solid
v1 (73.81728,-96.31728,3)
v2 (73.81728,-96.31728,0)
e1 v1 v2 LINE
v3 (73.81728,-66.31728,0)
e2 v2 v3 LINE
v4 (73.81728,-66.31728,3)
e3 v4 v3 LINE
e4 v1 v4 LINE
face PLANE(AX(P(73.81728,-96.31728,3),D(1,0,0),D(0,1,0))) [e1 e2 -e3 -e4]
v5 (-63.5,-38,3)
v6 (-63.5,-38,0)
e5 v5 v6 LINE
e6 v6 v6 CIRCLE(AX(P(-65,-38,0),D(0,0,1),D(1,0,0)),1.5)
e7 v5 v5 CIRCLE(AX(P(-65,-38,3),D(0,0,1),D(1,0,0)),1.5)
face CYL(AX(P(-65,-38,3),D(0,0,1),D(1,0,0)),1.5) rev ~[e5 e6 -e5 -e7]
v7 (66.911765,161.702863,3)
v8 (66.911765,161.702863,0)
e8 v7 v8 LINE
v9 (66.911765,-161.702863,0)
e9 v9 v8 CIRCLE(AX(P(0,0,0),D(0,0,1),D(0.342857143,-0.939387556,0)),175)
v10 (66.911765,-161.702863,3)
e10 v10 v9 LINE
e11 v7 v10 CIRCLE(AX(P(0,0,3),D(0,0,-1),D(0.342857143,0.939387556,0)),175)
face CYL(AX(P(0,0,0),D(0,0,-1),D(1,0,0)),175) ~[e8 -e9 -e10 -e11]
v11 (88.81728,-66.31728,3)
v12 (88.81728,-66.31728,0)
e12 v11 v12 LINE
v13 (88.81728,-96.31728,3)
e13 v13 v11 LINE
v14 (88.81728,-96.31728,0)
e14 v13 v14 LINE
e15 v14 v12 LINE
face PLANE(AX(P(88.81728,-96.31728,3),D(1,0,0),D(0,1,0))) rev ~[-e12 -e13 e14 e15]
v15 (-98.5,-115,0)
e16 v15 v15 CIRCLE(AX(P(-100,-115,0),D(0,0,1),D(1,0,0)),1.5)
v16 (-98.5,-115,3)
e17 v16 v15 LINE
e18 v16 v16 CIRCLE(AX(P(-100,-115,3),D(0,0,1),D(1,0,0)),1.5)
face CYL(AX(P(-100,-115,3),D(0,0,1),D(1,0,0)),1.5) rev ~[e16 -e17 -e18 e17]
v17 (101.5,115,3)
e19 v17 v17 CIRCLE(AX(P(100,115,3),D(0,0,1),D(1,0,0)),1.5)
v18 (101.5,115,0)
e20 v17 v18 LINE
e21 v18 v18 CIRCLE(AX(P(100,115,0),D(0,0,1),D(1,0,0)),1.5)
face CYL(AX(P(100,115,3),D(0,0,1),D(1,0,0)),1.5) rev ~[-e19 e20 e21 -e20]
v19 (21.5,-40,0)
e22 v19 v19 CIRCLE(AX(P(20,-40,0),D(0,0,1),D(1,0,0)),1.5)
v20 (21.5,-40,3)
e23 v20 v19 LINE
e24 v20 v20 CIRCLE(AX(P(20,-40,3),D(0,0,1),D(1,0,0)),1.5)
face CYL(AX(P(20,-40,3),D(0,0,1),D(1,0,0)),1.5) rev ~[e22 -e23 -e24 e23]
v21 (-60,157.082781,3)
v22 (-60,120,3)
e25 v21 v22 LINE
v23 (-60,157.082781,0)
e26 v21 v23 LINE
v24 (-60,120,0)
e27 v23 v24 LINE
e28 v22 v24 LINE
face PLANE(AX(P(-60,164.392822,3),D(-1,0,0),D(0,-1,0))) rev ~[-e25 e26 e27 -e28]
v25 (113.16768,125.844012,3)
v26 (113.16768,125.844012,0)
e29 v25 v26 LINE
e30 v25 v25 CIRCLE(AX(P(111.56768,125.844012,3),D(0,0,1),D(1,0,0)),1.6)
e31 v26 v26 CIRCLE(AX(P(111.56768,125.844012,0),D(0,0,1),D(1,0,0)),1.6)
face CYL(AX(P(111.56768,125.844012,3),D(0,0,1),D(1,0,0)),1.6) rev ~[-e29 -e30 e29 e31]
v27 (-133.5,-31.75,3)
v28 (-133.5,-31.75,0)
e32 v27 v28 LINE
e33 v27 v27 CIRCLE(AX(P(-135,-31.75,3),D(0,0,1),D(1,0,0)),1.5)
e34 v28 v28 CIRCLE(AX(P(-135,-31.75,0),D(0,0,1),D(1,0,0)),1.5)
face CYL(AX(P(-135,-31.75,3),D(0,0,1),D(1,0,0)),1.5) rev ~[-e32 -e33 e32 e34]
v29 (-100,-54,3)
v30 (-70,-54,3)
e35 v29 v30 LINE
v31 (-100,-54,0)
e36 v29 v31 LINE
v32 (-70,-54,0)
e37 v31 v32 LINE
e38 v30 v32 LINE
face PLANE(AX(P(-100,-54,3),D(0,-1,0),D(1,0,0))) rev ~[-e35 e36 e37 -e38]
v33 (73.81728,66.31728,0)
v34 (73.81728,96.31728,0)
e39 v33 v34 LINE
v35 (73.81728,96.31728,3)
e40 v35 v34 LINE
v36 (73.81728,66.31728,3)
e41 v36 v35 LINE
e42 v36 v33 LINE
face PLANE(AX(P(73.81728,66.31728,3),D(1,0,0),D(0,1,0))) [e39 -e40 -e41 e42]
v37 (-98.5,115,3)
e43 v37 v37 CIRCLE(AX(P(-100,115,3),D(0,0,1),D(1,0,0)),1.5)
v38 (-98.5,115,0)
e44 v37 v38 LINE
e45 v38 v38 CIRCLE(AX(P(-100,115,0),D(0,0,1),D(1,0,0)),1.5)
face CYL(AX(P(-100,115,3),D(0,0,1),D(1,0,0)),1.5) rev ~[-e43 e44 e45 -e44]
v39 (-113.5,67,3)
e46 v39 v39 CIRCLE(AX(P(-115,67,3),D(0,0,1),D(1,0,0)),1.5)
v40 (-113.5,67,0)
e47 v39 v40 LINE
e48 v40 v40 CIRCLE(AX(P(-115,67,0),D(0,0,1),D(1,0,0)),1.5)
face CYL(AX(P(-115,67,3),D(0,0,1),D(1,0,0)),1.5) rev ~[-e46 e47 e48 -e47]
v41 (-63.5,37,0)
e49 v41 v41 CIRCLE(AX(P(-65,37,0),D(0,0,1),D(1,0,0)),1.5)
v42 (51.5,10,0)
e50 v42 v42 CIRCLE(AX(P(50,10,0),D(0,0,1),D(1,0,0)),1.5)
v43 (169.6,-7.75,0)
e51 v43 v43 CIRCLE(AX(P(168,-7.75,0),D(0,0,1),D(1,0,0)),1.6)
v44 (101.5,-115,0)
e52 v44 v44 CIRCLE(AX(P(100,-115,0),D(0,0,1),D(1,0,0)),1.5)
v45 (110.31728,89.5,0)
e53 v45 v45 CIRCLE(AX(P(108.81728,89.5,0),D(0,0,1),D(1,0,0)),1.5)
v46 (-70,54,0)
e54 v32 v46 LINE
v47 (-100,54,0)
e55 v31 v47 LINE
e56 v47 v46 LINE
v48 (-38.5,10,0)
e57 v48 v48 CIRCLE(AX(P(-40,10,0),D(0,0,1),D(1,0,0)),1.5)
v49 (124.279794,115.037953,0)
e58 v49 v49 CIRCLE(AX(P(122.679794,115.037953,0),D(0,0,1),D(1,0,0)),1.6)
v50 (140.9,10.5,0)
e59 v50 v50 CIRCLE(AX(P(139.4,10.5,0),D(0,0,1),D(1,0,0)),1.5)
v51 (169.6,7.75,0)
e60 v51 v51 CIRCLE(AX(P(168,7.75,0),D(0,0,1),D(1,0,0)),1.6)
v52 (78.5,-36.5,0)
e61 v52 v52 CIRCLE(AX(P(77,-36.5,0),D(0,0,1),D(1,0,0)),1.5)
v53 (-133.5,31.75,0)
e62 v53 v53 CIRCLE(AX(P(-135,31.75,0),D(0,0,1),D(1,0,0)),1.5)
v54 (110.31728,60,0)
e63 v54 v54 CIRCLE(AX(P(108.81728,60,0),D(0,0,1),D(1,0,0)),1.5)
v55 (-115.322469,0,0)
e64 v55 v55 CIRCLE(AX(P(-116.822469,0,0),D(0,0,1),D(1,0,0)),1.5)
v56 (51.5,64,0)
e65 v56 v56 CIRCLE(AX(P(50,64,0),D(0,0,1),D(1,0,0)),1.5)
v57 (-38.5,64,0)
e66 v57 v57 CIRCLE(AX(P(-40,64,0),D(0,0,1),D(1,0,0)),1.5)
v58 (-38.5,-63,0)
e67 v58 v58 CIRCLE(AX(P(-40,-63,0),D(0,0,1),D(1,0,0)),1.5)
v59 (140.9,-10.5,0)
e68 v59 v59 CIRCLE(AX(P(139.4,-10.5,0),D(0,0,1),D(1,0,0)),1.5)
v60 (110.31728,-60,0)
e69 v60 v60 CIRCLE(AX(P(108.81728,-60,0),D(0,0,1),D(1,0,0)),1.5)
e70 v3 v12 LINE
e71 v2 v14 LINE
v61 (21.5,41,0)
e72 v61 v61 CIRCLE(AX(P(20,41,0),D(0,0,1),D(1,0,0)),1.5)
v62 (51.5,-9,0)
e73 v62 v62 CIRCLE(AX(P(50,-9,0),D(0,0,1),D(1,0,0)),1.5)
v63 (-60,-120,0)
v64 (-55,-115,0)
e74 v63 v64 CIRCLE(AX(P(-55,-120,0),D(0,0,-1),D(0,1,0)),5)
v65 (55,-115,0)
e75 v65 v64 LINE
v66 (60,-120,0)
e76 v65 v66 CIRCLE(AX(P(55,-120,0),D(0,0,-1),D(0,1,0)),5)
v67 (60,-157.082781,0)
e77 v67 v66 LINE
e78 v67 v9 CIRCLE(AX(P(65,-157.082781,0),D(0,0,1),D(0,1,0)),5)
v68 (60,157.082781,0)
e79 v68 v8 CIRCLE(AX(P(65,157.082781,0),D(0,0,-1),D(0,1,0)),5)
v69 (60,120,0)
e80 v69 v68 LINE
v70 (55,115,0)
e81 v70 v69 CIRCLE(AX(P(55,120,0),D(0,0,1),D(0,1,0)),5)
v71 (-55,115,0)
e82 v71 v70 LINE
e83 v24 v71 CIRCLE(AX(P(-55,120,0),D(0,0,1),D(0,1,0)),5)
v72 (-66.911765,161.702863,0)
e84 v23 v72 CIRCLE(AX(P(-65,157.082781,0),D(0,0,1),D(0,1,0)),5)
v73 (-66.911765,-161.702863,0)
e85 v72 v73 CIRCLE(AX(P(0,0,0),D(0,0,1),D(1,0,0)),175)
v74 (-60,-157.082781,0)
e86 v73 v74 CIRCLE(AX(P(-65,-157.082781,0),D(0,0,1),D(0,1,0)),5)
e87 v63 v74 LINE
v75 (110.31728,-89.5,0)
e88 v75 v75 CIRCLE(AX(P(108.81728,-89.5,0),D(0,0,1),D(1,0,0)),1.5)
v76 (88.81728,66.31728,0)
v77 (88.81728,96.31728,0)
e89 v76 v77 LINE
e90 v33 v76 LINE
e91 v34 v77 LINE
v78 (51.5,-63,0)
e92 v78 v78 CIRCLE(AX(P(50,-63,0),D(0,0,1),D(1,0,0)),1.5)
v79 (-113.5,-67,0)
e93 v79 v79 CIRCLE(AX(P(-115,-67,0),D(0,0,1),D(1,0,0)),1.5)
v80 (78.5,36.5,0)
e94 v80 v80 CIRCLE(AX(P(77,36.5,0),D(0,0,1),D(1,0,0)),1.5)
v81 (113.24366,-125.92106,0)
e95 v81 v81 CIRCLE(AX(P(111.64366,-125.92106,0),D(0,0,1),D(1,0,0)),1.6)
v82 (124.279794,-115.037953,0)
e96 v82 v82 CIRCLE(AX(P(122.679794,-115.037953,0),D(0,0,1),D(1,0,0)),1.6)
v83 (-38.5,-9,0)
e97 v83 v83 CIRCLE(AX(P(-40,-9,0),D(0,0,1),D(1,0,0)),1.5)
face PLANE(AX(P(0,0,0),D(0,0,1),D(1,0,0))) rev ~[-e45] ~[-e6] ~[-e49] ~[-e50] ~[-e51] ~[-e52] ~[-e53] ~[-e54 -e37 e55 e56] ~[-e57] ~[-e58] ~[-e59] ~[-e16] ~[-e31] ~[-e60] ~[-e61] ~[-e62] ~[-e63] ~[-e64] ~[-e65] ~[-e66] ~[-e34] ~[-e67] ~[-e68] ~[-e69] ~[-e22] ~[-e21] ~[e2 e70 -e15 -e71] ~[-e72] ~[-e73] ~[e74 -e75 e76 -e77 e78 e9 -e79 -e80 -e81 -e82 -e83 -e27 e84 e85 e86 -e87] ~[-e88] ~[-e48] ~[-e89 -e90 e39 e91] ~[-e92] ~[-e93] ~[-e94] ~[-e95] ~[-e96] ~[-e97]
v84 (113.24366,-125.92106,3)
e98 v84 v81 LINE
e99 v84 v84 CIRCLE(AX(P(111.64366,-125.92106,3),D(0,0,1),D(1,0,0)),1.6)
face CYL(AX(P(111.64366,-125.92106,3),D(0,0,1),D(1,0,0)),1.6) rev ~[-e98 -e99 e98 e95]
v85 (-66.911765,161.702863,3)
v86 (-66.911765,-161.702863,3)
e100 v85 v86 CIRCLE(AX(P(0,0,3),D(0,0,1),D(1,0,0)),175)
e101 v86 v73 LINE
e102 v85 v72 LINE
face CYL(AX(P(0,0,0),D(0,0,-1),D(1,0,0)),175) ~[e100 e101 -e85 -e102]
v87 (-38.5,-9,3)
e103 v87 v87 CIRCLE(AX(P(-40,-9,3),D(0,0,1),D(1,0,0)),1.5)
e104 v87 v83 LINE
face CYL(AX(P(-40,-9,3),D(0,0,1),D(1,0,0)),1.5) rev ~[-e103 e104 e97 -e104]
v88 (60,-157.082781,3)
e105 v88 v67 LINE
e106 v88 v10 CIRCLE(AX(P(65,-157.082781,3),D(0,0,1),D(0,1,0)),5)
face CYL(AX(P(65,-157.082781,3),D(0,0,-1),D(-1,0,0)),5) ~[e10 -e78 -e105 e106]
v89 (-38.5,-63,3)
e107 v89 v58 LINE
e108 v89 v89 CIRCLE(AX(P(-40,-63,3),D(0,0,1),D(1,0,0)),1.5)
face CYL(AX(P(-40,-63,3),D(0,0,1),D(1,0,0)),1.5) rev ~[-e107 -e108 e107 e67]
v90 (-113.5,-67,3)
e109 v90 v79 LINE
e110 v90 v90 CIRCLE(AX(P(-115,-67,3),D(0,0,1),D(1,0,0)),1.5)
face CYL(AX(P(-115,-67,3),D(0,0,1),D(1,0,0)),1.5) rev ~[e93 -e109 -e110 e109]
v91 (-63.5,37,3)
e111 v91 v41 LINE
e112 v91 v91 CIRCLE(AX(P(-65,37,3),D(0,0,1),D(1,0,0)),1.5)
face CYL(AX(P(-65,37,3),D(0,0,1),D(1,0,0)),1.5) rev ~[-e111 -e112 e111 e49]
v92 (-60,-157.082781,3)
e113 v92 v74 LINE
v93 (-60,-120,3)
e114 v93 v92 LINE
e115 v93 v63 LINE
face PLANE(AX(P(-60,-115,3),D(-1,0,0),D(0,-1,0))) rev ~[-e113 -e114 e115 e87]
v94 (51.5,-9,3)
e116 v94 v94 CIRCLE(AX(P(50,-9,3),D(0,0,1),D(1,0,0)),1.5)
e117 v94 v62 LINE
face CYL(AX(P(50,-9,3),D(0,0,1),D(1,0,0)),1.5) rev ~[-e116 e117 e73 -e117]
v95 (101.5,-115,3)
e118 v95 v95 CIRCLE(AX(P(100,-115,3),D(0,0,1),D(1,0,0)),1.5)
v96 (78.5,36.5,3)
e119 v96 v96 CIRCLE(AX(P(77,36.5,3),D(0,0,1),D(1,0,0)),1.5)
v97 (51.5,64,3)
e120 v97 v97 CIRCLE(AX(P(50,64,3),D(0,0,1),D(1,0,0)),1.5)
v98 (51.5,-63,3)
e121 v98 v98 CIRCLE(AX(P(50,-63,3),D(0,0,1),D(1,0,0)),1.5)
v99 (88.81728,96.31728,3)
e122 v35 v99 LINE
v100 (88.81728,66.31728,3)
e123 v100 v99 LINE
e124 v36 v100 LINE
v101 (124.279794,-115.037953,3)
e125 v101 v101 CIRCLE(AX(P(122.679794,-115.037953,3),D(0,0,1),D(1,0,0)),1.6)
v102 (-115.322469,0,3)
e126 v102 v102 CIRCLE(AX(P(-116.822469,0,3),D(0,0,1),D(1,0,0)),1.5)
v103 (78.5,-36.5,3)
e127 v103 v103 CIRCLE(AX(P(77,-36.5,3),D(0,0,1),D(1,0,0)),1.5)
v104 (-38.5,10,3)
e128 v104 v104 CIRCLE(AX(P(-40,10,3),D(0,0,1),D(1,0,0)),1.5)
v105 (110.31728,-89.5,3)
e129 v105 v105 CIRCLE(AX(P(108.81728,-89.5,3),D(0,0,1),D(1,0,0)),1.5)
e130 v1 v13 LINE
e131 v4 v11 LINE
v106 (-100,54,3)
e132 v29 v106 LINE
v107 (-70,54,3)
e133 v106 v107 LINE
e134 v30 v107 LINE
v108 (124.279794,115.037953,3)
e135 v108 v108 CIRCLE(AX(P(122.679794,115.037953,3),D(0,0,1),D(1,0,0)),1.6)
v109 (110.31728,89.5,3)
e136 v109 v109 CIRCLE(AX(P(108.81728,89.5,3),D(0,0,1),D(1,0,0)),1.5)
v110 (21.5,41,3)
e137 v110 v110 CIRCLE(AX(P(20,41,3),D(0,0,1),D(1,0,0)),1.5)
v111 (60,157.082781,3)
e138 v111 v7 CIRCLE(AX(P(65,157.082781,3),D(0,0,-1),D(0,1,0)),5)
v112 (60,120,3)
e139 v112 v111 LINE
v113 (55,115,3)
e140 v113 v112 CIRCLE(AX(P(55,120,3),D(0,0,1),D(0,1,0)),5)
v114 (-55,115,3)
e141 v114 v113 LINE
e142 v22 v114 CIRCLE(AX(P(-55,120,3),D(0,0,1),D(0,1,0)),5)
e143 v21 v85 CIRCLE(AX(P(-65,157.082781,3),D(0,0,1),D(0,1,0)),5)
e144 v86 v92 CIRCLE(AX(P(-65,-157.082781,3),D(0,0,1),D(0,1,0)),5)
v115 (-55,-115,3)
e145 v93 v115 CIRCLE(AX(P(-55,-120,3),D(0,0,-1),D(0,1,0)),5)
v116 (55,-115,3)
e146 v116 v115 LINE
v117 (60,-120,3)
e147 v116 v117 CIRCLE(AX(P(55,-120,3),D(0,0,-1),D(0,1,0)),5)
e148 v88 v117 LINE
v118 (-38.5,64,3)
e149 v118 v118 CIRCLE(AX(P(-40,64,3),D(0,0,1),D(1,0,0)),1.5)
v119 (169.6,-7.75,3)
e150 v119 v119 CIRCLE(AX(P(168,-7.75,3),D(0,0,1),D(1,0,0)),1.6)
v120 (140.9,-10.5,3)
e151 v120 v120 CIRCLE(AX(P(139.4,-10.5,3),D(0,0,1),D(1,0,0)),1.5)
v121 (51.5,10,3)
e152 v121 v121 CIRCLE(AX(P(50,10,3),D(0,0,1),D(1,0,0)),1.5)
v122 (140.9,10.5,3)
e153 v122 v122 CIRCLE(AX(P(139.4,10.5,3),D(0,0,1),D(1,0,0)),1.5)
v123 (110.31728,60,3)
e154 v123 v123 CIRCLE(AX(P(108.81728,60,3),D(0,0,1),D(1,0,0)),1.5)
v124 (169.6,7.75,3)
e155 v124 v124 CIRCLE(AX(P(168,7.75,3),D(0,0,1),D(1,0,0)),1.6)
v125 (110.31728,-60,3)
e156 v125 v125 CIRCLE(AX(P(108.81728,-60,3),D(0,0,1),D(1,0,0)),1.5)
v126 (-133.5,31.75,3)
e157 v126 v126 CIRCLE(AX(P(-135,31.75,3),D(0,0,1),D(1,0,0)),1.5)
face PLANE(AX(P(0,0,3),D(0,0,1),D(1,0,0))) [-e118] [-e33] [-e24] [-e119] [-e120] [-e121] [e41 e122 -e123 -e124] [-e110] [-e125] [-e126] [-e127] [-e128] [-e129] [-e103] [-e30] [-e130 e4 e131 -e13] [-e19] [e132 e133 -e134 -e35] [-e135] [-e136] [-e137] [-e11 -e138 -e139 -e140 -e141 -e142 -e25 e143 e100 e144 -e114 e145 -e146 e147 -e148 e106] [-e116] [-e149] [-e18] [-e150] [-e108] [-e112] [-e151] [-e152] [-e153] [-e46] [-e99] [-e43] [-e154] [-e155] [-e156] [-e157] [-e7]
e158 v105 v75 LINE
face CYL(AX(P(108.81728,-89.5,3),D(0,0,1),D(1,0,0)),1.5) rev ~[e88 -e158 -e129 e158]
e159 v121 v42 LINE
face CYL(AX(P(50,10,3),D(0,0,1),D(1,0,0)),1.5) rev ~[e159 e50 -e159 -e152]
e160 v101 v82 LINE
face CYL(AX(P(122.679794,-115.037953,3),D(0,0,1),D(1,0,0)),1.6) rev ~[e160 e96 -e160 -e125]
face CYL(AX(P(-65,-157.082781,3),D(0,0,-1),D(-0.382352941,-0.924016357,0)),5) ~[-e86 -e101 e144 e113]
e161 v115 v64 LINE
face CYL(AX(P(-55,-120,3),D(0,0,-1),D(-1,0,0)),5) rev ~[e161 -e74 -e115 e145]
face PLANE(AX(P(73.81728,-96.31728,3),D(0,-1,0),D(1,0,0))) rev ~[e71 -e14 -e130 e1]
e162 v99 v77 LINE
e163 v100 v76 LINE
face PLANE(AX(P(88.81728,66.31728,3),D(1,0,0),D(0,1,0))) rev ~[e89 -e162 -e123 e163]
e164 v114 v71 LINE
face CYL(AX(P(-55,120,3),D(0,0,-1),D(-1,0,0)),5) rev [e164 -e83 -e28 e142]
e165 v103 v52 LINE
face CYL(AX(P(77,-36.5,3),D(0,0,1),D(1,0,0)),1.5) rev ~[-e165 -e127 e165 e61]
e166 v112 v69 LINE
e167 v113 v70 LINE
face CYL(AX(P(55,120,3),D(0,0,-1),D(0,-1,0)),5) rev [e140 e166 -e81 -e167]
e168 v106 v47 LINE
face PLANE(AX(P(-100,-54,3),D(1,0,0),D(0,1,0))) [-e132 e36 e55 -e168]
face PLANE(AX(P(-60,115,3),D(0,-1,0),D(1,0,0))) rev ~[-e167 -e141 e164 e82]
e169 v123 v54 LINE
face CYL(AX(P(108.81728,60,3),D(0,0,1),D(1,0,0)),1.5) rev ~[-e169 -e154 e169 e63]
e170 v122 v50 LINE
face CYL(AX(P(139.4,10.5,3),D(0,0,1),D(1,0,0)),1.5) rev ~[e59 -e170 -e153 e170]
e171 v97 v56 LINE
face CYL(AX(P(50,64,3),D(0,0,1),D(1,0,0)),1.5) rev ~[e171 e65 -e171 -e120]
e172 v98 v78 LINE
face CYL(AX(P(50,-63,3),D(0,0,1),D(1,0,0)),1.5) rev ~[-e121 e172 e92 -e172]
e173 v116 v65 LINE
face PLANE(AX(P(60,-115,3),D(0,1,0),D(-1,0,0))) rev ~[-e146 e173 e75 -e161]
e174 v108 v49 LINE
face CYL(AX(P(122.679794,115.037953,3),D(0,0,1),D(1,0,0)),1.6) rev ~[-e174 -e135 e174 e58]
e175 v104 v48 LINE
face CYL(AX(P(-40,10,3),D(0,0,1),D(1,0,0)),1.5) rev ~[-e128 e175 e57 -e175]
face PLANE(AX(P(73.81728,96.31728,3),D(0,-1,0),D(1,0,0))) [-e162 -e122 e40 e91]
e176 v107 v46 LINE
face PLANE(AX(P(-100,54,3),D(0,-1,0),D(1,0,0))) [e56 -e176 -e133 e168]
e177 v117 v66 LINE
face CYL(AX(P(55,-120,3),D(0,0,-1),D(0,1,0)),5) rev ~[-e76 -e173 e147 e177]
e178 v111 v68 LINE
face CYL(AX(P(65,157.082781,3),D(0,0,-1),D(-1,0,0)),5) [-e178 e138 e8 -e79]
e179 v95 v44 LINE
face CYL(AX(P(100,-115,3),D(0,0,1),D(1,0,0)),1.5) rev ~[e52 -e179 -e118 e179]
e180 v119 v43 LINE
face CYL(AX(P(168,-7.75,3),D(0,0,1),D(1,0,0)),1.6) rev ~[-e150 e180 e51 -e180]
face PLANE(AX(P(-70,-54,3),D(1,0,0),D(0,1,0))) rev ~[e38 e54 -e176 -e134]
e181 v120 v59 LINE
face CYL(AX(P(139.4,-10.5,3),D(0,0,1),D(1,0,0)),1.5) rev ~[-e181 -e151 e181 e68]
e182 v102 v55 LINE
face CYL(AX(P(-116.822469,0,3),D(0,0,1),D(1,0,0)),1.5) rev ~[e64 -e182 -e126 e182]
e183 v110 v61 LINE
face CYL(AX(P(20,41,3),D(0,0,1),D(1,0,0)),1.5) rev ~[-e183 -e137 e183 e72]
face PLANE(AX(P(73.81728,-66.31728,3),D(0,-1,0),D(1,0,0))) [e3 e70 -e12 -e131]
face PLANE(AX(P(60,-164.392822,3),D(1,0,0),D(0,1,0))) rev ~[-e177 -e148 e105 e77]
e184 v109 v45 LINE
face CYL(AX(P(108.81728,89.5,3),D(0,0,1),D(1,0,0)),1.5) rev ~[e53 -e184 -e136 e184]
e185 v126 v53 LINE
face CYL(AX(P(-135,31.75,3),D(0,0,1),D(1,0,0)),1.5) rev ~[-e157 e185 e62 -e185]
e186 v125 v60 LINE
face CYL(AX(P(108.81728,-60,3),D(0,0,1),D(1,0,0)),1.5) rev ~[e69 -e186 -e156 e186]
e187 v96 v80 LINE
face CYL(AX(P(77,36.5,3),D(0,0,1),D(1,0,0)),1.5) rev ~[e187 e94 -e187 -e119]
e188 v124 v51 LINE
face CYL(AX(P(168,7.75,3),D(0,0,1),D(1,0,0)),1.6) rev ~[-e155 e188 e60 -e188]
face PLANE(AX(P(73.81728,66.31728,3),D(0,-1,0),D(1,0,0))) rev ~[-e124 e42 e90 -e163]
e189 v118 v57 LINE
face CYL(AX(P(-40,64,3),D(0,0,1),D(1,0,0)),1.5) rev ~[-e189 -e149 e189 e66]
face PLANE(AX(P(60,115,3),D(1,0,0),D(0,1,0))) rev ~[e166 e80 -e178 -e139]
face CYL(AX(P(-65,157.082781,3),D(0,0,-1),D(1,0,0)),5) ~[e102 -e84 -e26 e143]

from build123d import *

# Parameters (mm, degrees)
SKETCH_1_R             = 175
EXTRUDE_1_DEPTH        = 3
CUT_EXTRUDE_1_DEPTH    = 3
FILLET_1_R             = 5
FILLET_2_R             = 5
FILLET_3_R             = 5
SKETCH_5_R             = 1.5
CUT_EXTRUDE_4_DEPTH    = 3
SKETCH_7_W             = 30
SKETCH_7_H             = 108
CUT_EXTRUDE_6_DEPTH    = 3
SKETCH_8_R             = 1.5
CUT_EXTRUDE_7_DEPTH    = 3
SKETCH_9_R             = 1.5
CUT_EXTRUDE_8_DEPTH    = 10
SKETCH_10_R            = 1.6
CUT_EXTRUDE_9_DEPTH    = 3
SKETCH_11_W            = 15
SKETCH_11_H            = 30
CUT_EXTRUDE_10_DEPTH   = 10
SKETCH_12_R            = 1.5
CUT_EXTRUDE_11_DEPTH   = 4
SKETCH_13_R            = 1.5
CUT_EXTRUDE_12_DEPTH   = 4
PATTERN_LINEAR_1_COUNT = 2
PATTERN_LINEAR_1_PITCH = 73
SKETCH_14_R            = 1.5
CUT_EXTRUDE_14_DEPTH   = 4
SKETCH_17_R            = 1.5
CUT_EXTRUDE_15_DEPTH   = 4
SKETCH_18_R            = 1.5
CUT_EXTRUDE_16_DEPTH   = 4


with BuildPart() as part:
    # ｽｹｯﾁ1 → ﾎﾞｽ - 押し出し1 (new body)
    with BuildSketch(Plane.XY):
        Circle(SKETCH_1_R)
    extrude(amount=EXTRUDE_1_DEPTH)

    # ｽｹｯﾁ2 → ｶｯﾄ - 押し出し1 (cut)
    with BuildSketch(Plane.XY.offset(3)):
        with BuildLine():
            Line((-60, 115), (0, 115))
            Line((0, 115), (0, 175))
            ThreePointArc((0, 175), (-30.465194158, 172.327803749), (-60, 164.392822228))
            Line((-60, 164.392822228), (-60, 115))
        make_face()
        with BuildLine():
            Line((0, 175), (0, 115))
            Line((0, 115), (60, 115))
            Line((60, 115), (60, 164.392822228))
            ThreePointArc((60, 164.392822228), (30.465194158, 172.327803749), (0, 175))
        make_face()
        with BuildLine():
            Line((0, -175), (0, -115))
            Line((0, -115), (-60, -115))
            Line((-60, -115), (-60, -164.392822228))
            ThreePointArc((-60, -164.392822228), (-30.465194158, -172.327803749), (0, -175))
        make_face()
        with BuildLine():
            Line((60, -115), (0, -115))
            Line((0, -115), (0, -175))
            ThreePointArc((0, -175), (30.465194158, -172.327803749), (60, -164.392822228))
            Line((60, -164.392822228), (60, -115))
        make_face()
    extrude(amount=-CUT_EXTRUDE_1_DEPTH, mode=Mode.SUBTRACT)

    # ﾌｨﾚｯﾄ1
    fillet_1_edges = [part.edges().sort_by_distance(p)[0] for p in [
        (-60, 164.392822228, 1.5),
    ]]
    fillet(fillet_1_edges, radius=FILLET_1_R)

    # ﾌｨﾚｯﾄ2
    fillet_2_edges = [part.edges().sort_by_distance(p)[0] for p in [
        (-60, 115, 1.5),
        (60, 164.392822228, 1.5),
        (60, 115, 1.5),
    ]]
    fillet(fillet_2_edges, radius=FILLET_2_R)

    # ﾌｨﾚｯﾄ3
    fillet_3_edges = [part.edges().sort_by_distance(p)[0] for p in [
        (-60, -115, 1.5),
        (60, -115, 1.5),
        (60, -164.392822228, 1.5),
        (-60, -164.392822228, 1.5),
    ]]
    fillet(fillet_3_edges, radius=FILLET_3_R)

    # ｽｹｯﾁ5 → ｶｯﾄ - 押し出し4 (cut)
    with BuildSketch(Plane.XY.offset(3)):
        with Locations((-100, -115)):
            Circle(SKETCH_5_R)
        with Locations((100, -115)):
            Circle(SKETCH_5_R)
        with Locations((100, 115)):
            Circle(SKETCH_5_R)
        with Locations((-100, 115)):
            Circle(SKETCH_5_R)
    extrude(amount=-CUT_EXTRUDE_4_DEPTH, mode=Mode.SUBTRACT)

    # ｽｹｯﾁ7 → ｶｯﾄ - 押し出し6 (cut)
    with BuildSketch(Plane.XY.offset(3)):
        with Locations((-85, 0)):
            Rectangle(SKETCH_7_W, SKETCH_7_H)
    extrude(amount=-CUT_EXTRUDE_6_DEPTH, mode=Mode.SUBTRACT)

    # ｽｹｯﾁ8 → ｶｯﾄ - 押し出し7 (cut)
    with BuildSketch(Plane.XY.offset(3)):
        with Locations((-115, -67)):
            Circle(SKETCH_8_R)
        with Locations((-116.822468618, 0)):
            Circle(SKETCH_8_R)
        with Locations((-115, 67)):
            Circle(SKETCH_8_R)
    extrude(amount=-CUT_EXTRUDE_7_DEPTH, mode=Mode.SUBTRACT)

    # ｽｹｯﾁ9 → ｶｯﾄ - 押し出し8 (cut)
    with BuildSketch(Plane.XY.offset(3)):
        with Locations((-65, 37)):
            Circle(SKETCH_9_R)
        with Locations((20, 41)):
            Circle(SKETCH_9_R)
        with Locations((-65, -38)):
            Circle(SKETCH_9_R)
        with Locations((20, -40)):
            Circle(SKETCH_9_R)
    extrude(amount=-CUT_EXTRUDE_8_DEPTH, mode=Mode.SUBTRACT)

    # ｽｹｯﾁ10 → ｶｯﾄ - 押し出し9 (cut)
    with BuildSketch(Plane.XY.offset(3)):
        with Locations((111.643659725, -125.921059639)):
            Circle(SKETCH_10_R)
        with Locations((122.679794489, -115.037952538)):
            Circle(SKETCH_10_R)
        with Locations((168, 7.75)):
            Circle(SKETCH_10_R)
        with Locations((168, -7.75)):
            Circle(SKETCH_10_R)
        with Locations((111.56768007, 125.844011632)):
            Circle(SKETCH_10_R)
        with Locations((122.679794489, 115.037952538)):
            Circle(SKETCH_10_R)
    extrude(amount=-CUT_EXTRUDE_9_DEPTH, mode=Mode.SUBTRACT)

    # ｽｹｯﾁ11 → ｶｯﾄ - 押し出し10 (cut)
    with BuildSketch(Plane.XY.offset(3)):
        with Locations((81.317279836, 81.317279836)):
            Rectangle(SKETCH_11_W, SKETCH_11_H)
        with Locations((81.317279836, -81.317279836)):
            Rectangle(SKETCH_11_W, SKETCH_11_H)
    extrude(amount=-CUT_EXTRUDE_10_DEPTH, mode=Mode.SUBTRACT)

    # ｽｹｯﾁ12 → ｶｯﾄ - 押し出し11 (cut, through all)
    with BuildSketch(Plane.XY.offset(3)):
        with Locations((139.4, 10.5)):
            Circle(SKETCH_12_R)
        with Locations((139.4, -10.5)):
            Circle(SKETCH_12_R)
    extrude(amount=-CUT_EXTRUDE_11_DEPTH, mode=Mode.SUBTRACT)

    # ｽｹｯﾁ13 → ｶｯﾄ - 押し出し12 (cut, through all)
    with BuildSketch(Plane.XY.offset(3)):
        with Locations((50, 10)):
            Circle(SKETCH_13_R)
        with Locations((50, 64)):
            Circle(SKETCH_13_R)
        with Locations((-40, 64)):
            Circle(SKETCH_13_R)
        with Locations((-40, 10)):
            Circle(SKETCH_13_R)
        with Locations((77, 36.5)):
            Circle(SKETCH_13_R)
    cut_extrude_12 = extrude(amount=-CUT_EXTRUDE_12_DEPTH, mode=Mode.SUBTRACT)

    # 直線ﾊﾟﾀｰﾝ1: ｶｯﾄ - 押し出し12 ×2
    with Locations(*[(0, -i * PATTERN_LINEAR_1_PITCH, 0) for i in range(1, PATTERN_LINEAR_1_COUNT)]):
        add(cut_extrude_12, mode=Mode.SUBTRACT)

    # ｽｹｯﾁ14 → ｶｯﾄ - 押し出し14 (cut, through all)
    with BuildSketch(Plane.XY.offset(3)):
        with Locations((108.817279836, 89.5)):
            Circle(SKETCH_14_R)
        with Locations((108.817279836, 60)):
            Circle(SKETCH_14_R)
    extrude(amount=-CUT_EXTRUDE_14_DEPTH, mode=Mode.SUBTRACT)

    # ｽｹｯﾁ17 → ｶｯﾄ - 押し出し15 (cut, through all)
    with BuildSketch(Plane.XY.offset(3)):
        with Locations((108.817279836, -60)):
            Circle(SKETCH_17_R)
        with Locations((108.817279836, -89.5)):
            Circle(SKETCH_17_R)
    extrude(amount=-CUT_EXTRUDE_15_DEPTH, mode=Mode.SUBTRACT)

    # ｽｹｯﾁ18 → ｶｯﾄ - 押し出し16 (cut, through all)
    with BuildSketch(Plane.XY.offset(3)):
        with Locations((-135, 31.75)):
            Circle(SKETCH_18_R)
        with Locations((-135, -31.75)):
            Circle(SKETCH_18_R)
    extrude(amount=-CUT_EXTRUDE_16_DEPTH, mode=Mode.SUBTRACT)


solid = part.part
